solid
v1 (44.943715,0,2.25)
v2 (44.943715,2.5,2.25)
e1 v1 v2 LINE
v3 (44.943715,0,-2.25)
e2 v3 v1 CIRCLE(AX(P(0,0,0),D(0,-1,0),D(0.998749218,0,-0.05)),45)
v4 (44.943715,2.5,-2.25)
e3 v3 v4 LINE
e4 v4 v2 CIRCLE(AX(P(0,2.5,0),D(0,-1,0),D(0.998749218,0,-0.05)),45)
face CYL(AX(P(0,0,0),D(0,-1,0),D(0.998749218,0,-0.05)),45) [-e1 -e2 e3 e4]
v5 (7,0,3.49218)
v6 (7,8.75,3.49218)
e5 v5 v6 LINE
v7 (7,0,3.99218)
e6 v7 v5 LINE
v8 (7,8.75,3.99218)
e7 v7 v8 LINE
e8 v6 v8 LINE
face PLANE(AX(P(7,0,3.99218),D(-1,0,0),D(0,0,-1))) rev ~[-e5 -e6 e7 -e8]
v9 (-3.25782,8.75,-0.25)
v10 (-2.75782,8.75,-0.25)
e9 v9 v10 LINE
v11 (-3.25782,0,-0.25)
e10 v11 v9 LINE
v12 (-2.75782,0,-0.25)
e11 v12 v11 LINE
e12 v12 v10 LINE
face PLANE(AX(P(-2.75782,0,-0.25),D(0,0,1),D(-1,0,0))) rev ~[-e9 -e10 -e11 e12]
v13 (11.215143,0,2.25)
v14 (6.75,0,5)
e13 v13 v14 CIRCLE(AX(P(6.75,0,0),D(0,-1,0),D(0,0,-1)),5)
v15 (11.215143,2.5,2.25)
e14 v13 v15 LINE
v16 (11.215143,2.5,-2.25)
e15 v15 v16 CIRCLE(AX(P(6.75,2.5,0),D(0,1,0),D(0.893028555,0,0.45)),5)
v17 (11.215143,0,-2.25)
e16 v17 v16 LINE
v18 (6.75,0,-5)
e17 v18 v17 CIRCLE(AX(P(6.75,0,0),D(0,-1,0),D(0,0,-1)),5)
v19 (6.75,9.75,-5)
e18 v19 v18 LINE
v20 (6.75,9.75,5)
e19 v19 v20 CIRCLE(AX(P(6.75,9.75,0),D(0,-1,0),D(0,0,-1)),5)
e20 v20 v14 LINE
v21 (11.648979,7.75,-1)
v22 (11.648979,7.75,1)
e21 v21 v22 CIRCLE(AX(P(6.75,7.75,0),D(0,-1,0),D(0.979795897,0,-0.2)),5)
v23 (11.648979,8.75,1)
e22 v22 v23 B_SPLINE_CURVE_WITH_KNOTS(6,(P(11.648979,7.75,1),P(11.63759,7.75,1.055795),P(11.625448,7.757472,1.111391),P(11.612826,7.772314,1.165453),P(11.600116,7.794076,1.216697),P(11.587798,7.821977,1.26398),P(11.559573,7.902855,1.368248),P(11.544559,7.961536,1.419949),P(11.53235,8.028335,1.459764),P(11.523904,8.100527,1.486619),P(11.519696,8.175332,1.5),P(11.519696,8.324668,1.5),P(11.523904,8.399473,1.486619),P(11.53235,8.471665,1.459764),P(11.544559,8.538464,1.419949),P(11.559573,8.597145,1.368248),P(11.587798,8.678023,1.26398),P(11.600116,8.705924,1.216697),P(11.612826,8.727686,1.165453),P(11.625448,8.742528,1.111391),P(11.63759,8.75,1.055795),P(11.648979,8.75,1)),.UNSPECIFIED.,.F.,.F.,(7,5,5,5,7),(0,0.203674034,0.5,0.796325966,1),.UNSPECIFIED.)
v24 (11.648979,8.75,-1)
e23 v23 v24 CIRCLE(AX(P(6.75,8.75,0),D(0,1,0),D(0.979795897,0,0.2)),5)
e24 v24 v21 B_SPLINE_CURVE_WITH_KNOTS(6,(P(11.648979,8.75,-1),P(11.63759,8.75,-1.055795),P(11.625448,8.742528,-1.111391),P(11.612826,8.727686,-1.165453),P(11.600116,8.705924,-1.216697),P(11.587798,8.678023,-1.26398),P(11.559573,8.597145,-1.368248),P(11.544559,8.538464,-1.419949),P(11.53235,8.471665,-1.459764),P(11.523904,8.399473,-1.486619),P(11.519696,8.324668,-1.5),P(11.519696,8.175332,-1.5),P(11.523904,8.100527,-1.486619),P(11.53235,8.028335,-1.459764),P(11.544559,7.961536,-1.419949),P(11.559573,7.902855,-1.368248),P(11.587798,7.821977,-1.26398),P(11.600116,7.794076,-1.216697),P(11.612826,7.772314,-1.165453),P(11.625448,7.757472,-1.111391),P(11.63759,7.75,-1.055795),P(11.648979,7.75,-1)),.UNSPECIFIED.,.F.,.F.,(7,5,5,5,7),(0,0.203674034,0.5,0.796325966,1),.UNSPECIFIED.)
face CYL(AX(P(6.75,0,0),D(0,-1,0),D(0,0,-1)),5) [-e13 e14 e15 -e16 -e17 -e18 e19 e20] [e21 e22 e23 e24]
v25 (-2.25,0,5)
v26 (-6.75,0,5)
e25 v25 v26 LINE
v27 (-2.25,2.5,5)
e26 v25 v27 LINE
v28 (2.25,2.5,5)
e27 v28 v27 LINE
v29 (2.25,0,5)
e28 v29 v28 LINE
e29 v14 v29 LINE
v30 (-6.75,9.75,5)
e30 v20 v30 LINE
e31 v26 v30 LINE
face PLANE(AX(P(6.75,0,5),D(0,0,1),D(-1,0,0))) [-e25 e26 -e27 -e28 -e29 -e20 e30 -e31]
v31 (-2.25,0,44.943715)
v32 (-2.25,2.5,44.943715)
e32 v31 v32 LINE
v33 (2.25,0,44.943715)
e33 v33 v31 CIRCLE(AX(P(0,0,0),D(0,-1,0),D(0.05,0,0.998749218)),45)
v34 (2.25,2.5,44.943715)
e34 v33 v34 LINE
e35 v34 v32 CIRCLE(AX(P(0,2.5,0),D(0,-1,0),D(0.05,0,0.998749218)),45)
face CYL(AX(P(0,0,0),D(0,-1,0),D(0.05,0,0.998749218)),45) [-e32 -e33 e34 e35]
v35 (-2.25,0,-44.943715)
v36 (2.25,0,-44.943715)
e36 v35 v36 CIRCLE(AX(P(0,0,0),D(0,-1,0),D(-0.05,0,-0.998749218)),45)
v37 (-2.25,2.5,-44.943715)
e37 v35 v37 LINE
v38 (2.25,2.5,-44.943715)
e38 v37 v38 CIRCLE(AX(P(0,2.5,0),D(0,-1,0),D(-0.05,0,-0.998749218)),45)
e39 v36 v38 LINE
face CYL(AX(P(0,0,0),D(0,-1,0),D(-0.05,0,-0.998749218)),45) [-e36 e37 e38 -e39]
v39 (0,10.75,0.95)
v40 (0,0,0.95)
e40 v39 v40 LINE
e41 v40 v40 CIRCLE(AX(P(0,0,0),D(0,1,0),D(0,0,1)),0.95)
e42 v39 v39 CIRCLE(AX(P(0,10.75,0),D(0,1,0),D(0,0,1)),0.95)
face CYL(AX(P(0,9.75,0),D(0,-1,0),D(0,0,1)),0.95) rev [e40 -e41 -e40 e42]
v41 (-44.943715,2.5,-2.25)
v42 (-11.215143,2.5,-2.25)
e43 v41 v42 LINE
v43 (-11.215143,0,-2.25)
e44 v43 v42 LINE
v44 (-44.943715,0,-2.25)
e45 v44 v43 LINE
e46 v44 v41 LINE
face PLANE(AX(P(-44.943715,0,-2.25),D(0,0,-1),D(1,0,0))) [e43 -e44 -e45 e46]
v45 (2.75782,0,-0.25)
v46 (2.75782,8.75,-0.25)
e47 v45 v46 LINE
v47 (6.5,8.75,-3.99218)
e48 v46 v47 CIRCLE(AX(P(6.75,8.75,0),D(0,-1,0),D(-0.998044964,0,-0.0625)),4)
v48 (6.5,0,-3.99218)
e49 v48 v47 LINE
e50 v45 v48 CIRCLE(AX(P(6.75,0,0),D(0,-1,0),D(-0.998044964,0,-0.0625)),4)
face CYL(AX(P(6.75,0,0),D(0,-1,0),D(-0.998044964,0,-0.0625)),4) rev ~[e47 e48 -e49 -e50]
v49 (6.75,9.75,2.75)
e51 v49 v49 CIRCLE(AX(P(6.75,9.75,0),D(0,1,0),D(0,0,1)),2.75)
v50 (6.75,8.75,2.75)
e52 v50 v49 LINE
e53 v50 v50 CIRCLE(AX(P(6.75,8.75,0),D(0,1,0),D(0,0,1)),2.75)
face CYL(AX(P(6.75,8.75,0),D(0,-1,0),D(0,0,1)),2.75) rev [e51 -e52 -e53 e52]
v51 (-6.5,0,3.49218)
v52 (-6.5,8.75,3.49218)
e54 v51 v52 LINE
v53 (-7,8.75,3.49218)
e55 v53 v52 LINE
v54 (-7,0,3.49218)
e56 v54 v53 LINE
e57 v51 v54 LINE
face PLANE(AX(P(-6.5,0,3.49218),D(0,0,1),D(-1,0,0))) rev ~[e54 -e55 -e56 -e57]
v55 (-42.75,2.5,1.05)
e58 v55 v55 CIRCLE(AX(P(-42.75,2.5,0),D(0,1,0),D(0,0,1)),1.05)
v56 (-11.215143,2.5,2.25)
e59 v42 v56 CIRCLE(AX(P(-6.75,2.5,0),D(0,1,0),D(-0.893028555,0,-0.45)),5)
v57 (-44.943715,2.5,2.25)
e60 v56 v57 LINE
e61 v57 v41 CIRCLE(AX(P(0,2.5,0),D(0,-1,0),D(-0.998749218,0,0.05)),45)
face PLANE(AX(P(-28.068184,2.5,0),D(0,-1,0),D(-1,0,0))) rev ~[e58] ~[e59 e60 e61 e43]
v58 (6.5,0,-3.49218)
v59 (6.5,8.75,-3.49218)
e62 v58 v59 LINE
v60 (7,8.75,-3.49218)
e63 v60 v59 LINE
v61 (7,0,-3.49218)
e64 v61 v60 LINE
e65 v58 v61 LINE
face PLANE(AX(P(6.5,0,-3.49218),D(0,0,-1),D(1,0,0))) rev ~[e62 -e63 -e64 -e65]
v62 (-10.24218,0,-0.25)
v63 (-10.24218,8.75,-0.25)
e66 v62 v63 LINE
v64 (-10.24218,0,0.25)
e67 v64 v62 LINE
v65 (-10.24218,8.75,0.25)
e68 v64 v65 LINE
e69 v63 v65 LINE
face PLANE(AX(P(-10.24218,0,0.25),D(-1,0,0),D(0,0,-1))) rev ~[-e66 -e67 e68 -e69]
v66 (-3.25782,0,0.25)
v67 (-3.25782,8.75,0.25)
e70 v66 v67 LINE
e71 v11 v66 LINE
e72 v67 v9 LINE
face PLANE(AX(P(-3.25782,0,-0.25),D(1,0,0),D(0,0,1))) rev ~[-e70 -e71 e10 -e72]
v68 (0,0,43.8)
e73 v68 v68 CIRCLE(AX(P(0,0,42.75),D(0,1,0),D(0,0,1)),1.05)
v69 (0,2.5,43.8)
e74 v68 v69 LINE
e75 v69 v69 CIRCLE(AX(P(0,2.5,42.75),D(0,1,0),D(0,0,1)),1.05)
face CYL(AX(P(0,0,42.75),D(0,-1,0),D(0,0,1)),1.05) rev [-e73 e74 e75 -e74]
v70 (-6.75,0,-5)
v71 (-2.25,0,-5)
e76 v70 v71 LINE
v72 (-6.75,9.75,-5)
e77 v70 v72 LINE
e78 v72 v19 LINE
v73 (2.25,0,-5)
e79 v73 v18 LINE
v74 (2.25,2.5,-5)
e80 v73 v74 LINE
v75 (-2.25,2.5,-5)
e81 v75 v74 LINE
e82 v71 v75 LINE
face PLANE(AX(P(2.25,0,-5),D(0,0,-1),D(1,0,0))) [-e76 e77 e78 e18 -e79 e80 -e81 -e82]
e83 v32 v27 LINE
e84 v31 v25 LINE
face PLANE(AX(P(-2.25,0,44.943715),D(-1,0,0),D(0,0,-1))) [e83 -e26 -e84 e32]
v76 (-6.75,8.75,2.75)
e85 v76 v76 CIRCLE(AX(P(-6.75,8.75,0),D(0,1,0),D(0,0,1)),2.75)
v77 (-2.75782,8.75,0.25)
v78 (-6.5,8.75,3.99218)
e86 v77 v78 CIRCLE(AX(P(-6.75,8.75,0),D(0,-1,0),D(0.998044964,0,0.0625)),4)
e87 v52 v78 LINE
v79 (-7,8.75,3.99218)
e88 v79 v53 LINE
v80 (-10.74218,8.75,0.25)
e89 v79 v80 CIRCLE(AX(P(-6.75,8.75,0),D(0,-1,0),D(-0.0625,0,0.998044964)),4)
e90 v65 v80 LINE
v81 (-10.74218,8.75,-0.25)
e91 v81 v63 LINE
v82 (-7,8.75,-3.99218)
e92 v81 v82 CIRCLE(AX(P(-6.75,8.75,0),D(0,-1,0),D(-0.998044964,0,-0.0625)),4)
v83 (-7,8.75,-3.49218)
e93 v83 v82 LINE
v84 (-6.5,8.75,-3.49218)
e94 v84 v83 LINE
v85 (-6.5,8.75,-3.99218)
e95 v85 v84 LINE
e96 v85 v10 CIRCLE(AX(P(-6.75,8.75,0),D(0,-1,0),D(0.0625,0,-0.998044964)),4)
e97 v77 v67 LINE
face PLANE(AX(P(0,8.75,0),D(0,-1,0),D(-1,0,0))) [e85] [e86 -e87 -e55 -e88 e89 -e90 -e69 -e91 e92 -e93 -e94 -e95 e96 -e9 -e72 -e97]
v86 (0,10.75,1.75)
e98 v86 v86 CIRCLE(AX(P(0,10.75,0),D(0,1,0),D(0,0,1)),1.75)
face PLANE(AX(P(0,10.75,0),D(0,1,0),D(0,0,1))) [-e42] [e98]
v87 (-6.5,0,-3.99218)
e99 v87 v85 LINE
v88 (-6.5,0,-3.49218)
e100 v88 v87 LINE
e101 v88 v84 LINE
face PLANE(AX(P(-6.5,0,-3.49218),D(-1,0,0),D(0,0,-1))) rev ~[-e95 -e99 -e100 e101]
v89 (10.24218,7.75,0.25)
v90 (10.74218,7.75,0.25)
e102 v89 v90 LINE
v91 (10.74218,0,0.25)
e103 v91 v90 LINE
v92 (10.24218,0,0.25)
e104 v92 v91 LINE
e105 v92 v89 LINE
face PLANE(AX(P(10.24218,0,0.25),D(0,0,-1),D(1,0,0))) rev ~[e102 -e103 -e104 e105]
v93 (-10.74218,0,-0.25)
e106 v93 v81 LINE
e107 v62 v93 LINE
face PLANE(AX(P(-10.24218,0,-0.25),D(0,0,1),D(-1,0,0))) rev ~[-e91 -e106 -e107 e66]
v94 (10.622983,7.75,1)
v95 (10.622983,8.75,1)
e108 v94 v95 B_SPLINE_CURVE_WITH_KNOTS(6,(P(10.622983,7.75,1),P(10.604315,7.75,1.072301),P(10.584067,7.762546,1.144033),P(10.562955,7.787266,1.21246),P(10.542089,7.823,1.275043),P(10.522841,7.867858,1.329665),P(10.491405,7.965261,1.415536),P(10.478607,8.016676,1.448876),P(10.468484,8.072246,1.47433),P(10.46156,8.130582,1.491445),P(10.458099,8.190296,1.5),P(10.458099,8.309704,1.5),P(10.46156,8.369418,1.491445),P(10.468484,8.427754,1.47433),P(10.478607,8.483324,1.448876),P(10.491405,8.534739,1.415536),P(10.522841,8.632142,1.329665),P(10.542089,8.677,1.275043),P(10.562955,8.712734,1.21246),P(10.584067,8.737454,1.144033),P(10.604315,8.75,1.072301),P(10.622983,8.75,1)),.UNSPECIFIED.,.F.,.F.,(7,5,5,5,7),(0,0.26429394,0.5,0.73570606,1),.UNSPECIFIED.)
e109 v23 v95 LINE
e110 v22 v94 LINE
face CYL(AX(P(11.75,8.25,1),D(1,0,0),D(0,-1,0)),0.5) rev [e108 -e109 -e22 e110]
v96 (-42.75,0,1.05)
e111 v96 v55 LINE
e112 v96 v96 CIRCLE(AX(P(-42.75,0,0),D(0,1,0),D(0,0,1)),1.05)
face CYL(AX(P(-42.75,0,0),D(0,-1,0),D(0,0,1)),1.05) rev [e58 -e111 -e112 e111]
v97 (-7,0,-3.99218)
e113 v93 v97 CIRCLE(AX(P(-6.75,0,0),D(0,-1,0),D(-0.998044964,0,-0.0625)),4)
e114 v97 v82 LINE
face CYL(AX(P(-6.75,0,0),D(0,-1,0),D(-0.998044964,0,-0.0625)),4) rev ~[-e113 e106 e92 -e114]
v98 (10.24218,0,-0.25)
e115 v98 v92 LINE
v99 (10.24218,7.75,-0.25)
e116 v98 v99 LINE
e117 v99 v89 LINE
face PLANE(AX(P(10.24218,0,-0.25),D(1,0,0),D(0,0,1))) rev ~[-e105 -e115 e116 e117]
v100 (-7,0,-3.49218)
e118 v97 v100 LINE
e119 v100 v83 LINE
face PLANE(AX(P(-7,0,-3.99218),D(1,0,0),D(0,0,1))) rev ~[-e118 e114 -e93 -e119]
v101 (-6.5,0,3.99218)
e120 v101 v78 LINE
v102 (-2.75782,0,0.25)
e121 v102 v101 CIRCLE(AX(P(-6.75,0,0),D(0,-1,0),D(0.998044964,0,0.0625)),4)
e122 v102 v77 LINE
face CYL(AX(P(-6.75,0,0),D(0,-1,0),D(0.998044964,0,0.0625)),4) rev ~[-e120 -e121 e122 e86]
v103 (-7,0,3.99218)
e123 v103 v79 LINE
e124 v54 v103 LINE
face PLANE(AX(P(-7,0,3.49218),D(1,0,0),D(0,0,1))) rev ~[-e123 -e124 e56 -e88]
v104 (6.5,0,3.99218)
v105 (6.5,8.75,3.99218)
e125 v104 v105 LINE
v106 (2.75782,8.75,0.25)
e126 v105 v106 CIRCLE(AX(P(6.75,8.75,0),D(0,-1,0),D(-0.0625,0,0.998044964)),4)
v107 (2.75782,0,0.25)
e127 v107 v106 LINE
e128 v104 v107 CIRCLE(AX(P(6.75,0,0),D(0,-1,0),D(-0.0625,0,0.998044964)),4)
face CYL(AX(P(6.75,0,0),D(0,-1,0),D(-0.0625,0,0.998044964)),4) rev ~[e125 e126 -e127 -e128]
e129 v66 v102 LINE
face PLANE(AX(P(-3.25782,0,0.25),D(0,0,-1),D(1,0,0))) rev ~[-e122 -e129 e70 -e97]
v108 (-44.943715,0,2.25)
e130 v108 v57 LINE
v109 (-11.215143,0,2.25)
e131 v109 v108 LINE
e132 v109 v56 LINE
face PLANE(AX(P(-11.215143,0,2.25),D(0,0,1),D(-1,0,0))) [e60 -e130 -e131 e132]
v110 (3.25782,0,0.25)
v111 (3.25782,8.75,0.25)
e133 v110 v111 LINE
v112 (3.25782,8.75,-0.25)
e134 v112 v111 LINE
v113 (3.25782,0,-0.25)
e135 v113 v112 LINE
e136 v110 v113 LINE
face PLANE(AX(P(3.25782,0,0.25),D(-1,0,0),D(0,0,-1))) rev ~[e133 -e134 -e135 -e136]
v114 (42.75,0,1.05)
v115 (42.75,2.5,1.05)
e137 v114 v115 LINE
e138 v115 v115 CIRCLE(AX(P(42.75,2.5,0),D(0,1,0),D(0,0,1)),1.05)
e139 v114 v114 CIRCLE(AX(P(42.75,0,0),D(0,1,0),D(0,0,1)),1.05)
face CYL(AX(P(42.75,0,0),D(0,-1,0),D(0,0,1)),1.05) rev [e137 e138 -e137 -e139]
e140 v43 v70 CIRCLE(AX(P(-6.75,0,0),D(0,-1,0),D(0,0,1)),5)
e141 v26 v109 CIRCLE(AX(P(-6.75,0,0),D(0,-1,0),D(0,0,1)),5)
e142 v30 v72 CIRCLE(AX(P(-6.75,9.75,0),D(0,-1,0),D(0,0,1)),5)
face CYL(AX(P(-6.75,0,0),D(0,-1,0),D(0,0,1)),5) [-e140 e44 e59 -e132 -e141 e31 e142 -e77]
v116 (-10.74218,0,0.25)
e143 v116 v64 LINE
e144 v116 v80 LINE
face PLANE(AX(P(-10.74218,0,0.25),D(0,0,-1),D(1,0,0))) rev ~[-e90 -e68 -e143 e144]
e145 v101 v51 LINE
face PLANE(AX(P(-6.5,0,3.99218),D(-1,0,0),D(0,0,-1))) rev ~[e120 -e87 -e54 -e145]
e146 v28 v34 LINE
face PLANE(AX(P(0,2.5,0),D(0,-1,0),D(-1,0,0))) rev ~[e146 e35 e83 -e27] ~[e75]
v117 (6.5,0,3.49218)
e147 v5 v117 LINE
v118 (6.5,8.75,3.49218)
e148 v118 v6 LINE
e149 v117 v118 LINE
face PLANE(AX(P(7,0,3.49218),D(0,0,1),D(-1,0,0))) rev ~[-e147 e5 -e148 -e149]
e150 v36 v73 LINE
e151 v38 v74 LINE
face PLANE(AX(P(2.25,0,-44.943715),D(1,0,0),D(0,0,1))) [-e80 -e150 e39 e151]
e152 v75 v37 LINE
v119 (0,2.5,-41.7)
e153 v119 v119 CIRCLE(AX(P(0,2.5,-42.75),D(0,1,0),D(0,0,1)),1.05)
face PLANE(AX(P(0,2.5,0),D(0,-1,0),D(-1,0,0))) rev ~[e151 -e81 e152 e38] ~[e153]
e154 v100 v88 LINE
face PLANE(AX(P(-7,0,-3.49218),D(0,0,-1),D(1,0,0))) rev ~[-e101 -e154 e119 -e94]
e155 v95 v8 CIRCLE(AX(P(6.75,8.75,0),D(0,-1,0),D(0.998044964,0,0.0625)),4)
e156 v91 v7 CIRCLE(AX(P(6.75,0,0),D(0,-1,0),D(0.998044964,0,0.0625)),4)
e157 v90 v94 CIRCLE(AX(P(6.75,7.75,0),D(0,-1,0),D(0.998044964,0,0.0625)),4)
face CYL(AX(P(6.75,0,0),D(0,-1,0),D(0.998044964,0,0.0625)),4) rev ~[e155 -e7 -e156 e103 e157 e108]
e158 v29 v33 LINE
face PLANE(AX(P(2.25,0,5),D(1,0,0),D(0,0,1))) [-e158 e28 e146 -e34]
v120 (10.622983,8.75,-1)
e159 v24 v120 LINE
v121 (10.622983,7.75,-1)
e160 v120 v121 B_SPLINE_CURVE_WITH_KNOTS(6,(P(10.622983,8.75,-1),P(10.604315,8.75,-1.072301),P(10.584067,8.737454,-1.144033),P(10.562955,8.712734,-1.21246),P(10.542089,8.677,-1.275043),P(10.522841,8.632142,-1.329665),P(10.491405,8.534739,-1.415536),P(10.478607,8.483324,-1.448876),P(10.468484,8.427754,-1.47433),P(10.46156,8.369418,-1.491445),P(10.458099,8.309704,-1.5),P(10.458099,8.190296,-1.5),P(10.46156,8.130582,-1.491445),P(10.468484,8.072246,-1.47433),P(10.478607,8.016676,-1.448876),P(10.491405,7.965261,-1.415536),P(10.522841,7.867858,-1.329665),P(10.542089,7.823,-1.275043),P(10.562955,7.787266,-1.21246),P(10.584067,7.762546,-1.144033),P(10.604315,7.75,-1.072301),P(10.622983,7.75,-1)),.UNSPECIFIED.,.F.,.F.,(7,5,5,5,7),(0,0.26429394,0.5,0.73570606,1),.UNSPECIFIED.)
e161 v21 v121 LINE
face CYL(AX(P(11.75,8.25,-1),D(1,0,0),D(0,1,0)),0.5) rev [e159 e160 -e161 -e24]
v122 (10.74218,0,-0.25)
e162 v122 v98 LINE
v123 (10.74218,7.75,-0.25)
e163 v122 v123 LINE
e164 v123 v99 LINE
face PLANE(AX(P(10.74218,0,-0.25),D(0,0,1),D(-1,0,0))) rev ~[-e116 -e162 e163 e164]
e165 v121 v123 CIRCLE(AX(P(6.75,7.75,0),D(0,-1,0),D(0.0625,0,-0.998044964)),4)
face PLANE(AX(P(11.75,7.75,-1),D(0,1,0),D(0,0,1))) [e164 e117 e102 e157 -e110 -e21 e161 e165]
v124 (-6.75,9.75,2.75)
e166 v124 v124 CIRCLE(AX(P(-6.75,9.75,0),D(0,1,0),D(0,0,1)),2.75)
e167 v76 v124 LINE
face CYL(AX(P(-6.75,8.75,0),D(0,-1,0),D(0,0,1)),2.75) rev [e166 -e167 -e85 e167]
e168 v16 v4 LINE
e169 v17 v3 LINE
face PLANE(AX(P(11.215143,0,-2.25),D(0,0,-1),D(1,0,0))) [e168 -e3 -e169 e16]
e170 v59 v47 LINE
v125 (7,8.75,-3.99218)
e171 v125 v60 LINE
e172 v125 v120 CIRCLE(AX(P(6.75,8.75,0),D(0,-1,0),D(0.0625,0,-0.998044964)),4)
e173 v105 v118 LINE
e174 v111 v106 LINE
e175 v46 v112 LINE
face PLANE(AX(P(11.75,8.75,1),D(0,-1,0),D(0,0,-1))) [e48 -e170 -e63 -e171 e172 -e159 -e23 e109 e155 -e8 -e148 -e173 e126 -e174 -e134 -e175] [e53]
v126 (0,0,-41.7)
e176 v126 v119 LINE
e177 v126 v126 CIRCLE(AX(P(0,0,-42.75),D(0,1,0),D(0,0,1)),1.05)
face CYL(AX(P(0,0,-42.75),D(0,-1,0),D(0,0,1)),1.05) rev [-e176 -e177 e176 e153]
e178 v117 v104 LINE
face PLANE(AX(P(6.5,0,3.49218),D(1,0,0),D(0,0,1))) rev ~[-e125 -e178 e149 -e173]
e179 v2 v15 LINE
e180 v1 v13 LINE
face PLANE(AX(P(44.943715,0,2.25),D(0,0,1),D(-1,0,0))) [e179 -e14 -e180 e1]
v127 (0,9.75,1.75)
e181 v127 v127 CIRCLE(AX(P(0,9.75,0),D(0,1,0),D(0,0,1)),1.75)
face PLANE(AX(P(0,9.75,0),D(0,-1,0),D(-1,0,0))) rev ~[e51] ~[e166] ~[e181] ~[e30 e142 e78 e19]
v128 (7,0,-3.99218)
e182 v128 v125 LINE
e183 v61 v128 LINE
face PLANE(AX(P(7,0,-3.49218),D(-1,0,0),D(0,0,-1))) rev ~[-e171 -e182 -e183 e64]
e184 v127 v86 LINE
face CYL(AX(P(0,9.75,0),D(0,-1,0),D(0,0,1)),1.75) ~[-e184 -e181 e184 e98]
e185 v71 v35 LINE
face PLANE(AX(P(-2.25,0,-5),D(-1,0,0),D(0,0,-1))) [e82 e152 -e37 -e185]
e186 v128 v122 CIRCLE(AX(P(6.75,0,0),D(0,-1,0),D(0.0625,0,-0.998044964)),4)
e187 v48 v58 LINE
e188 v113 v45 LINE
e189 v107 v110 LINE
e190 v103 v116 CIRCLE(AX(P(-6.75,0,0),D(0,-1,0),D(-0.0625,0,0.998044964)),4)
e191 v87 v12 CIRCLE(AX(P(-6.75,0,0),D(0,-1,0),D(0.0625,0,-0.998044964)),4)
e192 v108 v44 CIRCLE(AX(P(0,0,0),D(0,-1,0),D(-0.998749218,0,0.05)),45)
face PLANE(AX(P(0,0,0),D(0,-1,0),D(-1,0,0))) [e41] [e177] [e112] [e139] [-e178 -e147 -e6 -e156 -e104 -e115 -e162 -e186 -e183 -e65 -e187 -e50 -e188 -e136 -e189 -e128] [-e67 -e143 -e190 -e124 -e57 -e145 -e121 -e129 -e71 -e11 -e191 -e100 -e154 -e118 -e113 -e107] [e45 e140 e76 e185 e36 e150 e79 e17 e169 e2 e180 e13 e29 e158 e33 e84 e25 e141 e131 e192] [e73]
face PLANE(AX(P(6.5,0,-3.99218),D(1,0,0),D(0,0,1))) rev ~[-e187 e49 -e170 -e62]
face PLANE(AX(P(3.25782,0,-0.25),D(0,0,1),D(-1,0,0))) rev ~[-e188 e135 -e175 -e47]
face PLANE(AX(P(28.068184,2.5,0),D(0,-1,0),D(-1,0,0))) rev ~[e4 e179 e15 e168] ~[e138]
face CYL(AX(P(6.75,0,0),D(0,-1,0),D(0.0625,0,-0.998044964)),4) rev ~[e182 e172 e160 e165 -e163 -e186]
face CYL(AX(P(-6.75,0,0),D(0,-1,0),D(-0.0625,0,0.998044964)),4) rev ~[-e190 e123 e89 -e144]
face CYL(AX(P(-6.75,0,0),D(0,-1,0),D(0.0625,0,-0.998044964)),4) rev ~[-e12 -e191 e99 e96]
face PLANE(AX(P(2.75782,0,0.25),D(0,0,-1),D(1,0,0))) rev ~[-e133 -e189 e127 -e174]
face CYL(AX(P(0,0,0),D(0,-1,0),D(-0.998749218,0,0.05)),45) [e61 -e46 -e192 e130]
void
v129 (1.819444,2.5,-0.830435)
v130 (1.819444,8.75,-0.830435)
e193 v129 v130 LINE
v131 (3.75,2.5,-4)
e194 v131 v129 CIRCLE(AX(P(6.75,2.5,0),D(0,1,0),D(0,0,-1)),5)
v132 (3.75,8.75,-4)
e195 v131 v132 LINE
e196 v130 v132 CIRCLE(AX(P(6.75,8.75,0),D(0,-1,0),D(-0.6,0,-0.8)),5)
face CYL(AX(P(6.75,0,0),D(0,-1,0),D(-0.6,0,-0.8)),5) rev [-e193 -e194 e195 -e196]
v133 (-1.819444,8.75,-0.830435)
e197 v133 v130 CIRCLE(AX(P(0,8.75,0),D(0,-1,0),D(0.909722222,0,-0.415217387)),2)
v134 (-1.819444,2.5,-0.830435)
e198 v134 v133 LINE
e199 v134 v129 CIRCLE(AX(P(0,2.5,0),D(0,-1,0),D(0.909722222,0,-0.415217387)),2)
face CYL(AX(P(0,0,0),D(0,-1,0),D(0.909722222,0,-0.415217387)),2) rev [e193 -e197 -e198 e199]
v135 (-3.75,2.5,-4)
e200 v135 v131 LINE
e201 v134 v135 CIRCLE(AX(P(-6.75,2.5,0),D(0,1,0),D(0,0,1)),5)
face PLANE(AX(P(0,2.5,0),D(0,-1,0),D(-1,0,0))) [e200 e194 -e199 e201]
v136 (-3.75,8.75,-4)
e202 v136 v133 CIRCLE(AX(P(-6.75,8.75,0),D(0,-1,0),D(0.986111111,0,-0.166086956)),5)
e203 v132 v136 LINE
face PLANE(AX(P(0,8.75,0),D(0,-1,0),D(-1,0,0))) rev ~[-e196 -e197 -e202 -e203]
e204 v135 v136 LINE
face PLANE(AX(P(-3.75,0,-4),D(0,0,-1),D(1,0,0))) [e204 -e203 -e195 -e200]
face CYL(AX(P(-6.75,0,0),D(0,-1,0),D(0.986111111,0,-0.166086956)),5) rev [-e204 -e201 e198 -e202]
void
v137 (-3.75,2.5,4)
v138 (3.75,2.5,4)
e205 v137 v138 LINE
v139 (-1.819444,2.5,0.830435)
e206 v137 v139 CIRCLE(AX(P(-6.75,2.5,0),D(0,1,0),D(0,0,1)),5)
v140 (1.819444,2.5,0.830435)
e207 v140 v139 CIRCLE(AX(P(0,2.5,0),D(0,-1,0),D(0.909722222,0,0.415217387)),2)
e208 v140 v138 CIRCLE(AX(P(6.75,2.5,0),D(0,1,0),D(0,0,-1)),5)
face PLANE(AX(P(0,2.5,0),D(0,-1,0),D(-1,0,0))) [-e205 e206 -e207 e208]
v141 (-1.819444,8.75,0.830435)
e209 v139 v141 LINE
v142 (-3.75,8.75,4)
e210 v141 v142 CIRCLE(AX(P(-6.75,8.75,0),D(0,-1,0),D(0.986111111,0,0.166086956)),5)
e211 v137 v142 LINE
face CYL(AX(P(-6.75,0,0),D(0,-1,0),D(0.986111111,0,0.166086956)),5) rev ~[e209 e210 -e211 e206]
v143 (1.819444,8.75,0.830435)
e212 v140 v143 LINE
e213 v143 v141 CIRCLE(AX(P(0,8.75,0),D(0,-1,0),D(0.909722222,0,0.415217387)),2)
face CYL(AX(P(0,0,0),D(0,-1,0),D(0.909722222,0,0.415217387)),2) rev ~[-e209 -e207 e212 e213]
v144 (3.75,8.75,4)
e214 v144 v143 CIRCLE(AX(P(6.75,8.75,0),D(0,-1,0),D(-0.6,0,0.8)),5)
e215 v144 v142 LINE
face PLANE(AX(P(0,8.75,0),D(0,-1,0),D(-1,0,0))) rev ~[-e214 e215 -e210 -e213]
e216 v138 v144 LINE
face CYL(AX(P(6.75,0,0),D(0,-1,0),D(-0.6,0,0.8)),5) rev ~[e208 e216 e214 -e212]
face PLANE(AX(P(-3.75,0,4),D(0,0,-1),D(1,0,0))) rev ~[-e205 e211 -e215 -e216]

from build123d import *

# Parameters (mm, degrees)
SKETCH1_R             = 1.05
BOSS_EXTRUDE1_DEPTH   = 2.5
SKETCH1_R_2           = 0.95
BOSS_EXTRUDE1_2_DEPTH = 2.5
BOSS_EXTRUDE1_3_DEPTH = 2.5
SKETCH2_R             = 0.95
BOSS_EXTRUDE2_DEPTH   = 9.75
BOSS_EXTRUDE3_START   = -1
SKETCH3_R             = 0.95
SKETCH3_R_2           = 2.75
BOSS_EXTRUDE3_DEPTH   = 1
SKETCH4_R             = 1.75
SKETCH4_R_2           = 0.95
BOSS_EXTRUDE4_DEPTH   = 1
CUT_EXTRUDE3_DEPTH    = 2


with BuildPart() as part:
    # Sketch1 → Boss-Extrude1 (new body)
    with BuildSketch(Plane(origin=(0, 0, 0), x_dir=(1, 0, 0), z_dir=(0, 1, 0))):
        with BuildLine():
            Line((-44.9437148, 2.25), (-11.215142775, 2.25))
            ThreePointArc((-11.215142775, 2.25), (-11.75, 0), (-11.215142775, -2.25))
            Line((-11.215142775, -2.25), (-44.9437148, -2.25))
            ThreePointArc((-44.9437148, -2.25), (-45, 0), (-44.9437148, 2.25))
        make_face()
        with Locations(Location((-42.75, 0, 0), (0, 0, 270))):
            Circle(SKETCH1_R, mode=Mode.SUBTRACT)
    extrude(amount=BOSS_EXTRUDE1_DEPTH)



with BuildPart() as body_2:
    # Sketch1 → Boss-Extrude1 2 (new body)
    with BuildSketch(Plane(origin=(0, 0, 0), x_dir=(1, 0, 0), z_dir=(0, 1, 0))):
        with BuildLine():
            Line((2.25, 44.9437148), (2.25, 5))
            Line((2.25, 5), (6.75, 5))
            ThreePointArc((6.75, 5), (1.75, 0), (6.75, -5))
            Line((6.75, -5), (2.25, -5))
            Line((2.25, -5), (2.25, -44.9437148))
            ThreePointArc((2.25, -44.9437148), (0, -45), (-2.25, -44.9437148))
            Line((-2.25, -44.9437148), (-2.25, -5))
            Line((-2.25, -5), (-6.75, -5))
            ThreePointArc((-6.75, -5), (-1.75, 0), (-6.75, 5))
            Line((-6.75, 5), (-2.25, 5))
            Line((-2.25, 5), (-2.25, 44.9437148))
            ThreePointArc((-2.25, 44.9437148), (0, 45), (2.25, 44.9437148))
        make_face()
        with Locations(Location((0, 0, 0), (0, 0, 270))):
            Circle(SKETCH1_R_2, mode=Mode.SUBTRACT)
        with Locations(Location((0, 42.75, 0), (0, 0, 270))):
            Circle(SKETCH1_R, mode=Mode.SUBTRACT)
        with Locations(Location((0, -42.75, 0), (0, 0, 270))):
            Circle(SKETCH1_R, mode=Mode.SUBTRACT)
    extrude(amount=BOSS_EXTRUDE1_2_DEPTH)


with BuildPart() as body_3:
    # Sketch1 → Boss-Extrude1 3 (new body)
    with BuildSketch(Plane(origin=(0, 0, 0), x_dir=(1, 0, 0), z_dir=(0, 1, 0))):
        with BuildLine():
            Line((44.9437148, -2.25), (11.215142775, -2.25))
            ThreePointArc((11.215142775, -2.25), (11.75, 0), (11.215142775, 2.25))
            Line((11.215142775, 2.25), (44.9437148, 2.25))
            ThreePointArc((44.9437148, 2.25), (45, 0), (44.9437148, -2.25))
        make_face()
        with Locations(Location((42.75, 0, 0), (0, 0, 270))):
            Circle(SKETCH1_R, mode=Mode.SUBTRACT)
    extrude(amount=BOSS_EXTRUDE1_3_DEPTH)


with BuildPart() as part_1:
    add(part.part)

    add(body_2.part)  # Boss-Extrude2 merges body 2

    add(body_3.part)  # Boss-Extrude2 merges body 3
    # Sketch2 → Boss-Extrude2 (add)
    with BuildSketch(Plane(origin=(0, 0, 0), x_dir=(1, 0, 0), z_dir=(0, 1, 0))):
        with BuildLine():
            Line((-6.75, 5), (6.75, 5))
            ThreePointArc((6.75, 5), (11.75, 0), (6.75, -5))
            Line((6.75, -5), (-6.75, -5))
            ThreePointArc((-6.75, -5), (-11.75, 0), (-6.75, 5))
        make_face()
        with Locations(Location((0, 0, 0), (0, 0, 270))):
            Circle(SKETCH2_R, mode=Mode.SUBTRACT)
        with BuildLine():
            Line((-7, 3.992179856), (-7, 3.492179856))
            Line((-7, 3.492179856), (-6.5, 3.492179856))
            Line((-6.5, 3.492179856), (-6.5, 3.992179856))
            ThreePointArc((-6.5, 3.992179856), (-3.921572875, 2.828427125), (-2.757820144, 0.25))
            Line((-2.757820144, 0.25), (-3.257820144, 0.25))
            Line((-3.257820144, 0.25), (-3.257820144, -0.25))
            Line((-3.257820144, -0.25), (-2.757820144, -0.25))
            ThreePointArc((-2.757820144, -0.25), (-3.921572875, -2.828427125), (-6.5, -3.992179856))
            Line((-6.5, -3.992179856), (-6.5, -3.492179856))
            Line((-6.5, -3.492179856), (-7, -3.492179856))
            Line((-7, -3.492179856), (-7, -3.992179856))
            ThreePointArc((-7, -3.992179856), (-9.578427125, -2.828427125), (-10.742179856, -0.25))
            Line((-10.742179856, -0.25), (-10.242179856, -0.25))
            Line((-10.242179856, -0.25), (-10.242179856, 0.25))
            Line((-10.242179856, 0.25), (-10.742179856, 0.25))
            ThreePointArc((-10.742179856, 0.25), (-9.578427125, 2.828427125), (-7, 3.992179856))
        make_face(mode=Mode.SUBTRACT)
        with BuildLine():
            Line((6.5, 3.992179856), (6.5, 3.492179856))
            Line((6.5, 3.492179856), (7, 3.492179856))
            Line((7, 3.492179856), (7, 3.992179856))
            ThreePointArc((7, 3.992179856), (9.578427125, 2.828427125), (10.742179856, 0.25))
            Line((10.742179856, 0.25), (10.242179856, 0.25))
            Line((10.242179856, 0.25), (10.242179856, -0.25))
            Line((10.242179856, -0.25), (10.742179856, -0.25))
            ThreePointArc((10.742179856, -0.25), (9.578427125, -2.828427125), (7, -3.992179856))
            Line((7, -3.992179856), (7, -3.492179856))
            Line((7, -3.492179856), (6.5, -3.492179856))
            Line((6.5, -3.492179856), (6.5, -3.992179856))
            ThreePointArc((6.5, -3.992179856), (3.921572875, -2.828427125), (2.757820144, -0.25))
            Line((2.757820144, -0.25), (3.257820144, -0.25))
            Line((3.257820144, -0.25), (3.257820144, 0.25))
            Line((3.257820144, 0.25), (2.757820144, 0.25))
            ThreePointArc((2.757820144, 0.25), (3.921572875, 2.828427125), (6.5, 3.992179856))
        make_face(mode=Mode.SUBTRACT)
        with BuildLine():
            Line((-3.75, 4), (3.75, 4))
            ThreePointArc((3.75, 4), (2.479758346, 2.600968322), (1.819444444, 0.830434774))
            ThreePointArc((1.819444444, 0.830434774), (0, 2), (-1.819444444, 0.830434774))
            ThreePointArc((-1.819444444, 0.830434774), (-2.479758346, 2.600968322), (-3.75, 4))
        make_face(mode=Mode.SUBTRACT)
        with BuildLine():
            Line((-3.75, -4), (3.75, -4))
            ThreePointArc((3.75, -4), (2.479758346, -2.600968322), (1.819444444, -0.830434774))
            ThreePointArc((1.819444444, -0.830434774), (0, -2), (-1.819444444, -0.830434774))
            ThreePointArc((-1.819444444, -0.830434774), (-2.479758346, -2.600968322), (-3.75, -4))
        make_face(mode=Mode.SUBTRACT)
    extrude(amount=BOSS_EXTRUDE2_DEPTH)

    # Sketch3 → Boss-Extrude3 (add)
    with BuildSketch(Plane(origin=(0, 9.75, 0), x_dir=(1, 0, 0), z_dir=(0, 1, 0)).offset(BOSS_EXTRUDE3_START)):
        with BuildLine():
            Line((-6.75, 5), (6.75, 5))
            ThreePointArc((6.75, 5), (11.75, 0), (6.75, -5))
            Line((6.75, -5), (-6.75, -5))
            ThreePointArc((-6.75, -5), (-11.75, 0), (-6.75, 5))
        make_face()
        with Locations(Location((0, 0, 0), (0, 0, 270))):
            Circle(SKETCH3_R, mode=Mode.SUBTRACT)
        with Locations(Location((-6.75, 0, 0), (0, 0, 270))):
            Circle(SKETCH3_R_2, mode=Mode.SUBTRACT)
        with Locations(Location((6.75, 0, 0), (0, 0, 270))):
            Circle(SKETCH3_R_2, mode=Mode.SUBTRACT)
    extrude(amount=BOSS_EXTRUDE3_DEPTH)

    # Sketch4 → Boss-Extrude4 (add)
    with BuildSketch(Plane(origin=(0, 9.75, 0), x_dir=(1, 0, 0), z_dir=(0, 1, 0))):
        with Locations(Location((0, 0, 0), (0, 0, 270))):
            Circle(SKETCH4_R)
        with Locations(Location((0, 0, 0), (0, 0, 270))):
            Circle(SKETCH4_R_2, mode=Mode.SUBTRACT)
    extrude(amount=BOSS_EXTRUDE4_DEPTH)

    # Sketch7 → Cut-Extrude3 (cut)
    with BuildSketch(Plane(origin=(11.75, 0, 0), x_dir=(0, 0, -1), z_dir=(1, 0, 0))):
        with BuildLine():
            Line((-1, 8.75), (1, 8.75))
            ThreePointArc((1, 8.75), (1.5, 8.25), (1, 7.75))
            Line((1, 7.75), (-1, 7.75))
            ThreePointArc((-1, 7.75), (-1.5, 8.25), (-1, 8.75))
        make_face()
    extrude(amount=-CUT_EXTRUDE3_DEPTH, mode=Mode.SUBTRACT)


solid = part_1.part
